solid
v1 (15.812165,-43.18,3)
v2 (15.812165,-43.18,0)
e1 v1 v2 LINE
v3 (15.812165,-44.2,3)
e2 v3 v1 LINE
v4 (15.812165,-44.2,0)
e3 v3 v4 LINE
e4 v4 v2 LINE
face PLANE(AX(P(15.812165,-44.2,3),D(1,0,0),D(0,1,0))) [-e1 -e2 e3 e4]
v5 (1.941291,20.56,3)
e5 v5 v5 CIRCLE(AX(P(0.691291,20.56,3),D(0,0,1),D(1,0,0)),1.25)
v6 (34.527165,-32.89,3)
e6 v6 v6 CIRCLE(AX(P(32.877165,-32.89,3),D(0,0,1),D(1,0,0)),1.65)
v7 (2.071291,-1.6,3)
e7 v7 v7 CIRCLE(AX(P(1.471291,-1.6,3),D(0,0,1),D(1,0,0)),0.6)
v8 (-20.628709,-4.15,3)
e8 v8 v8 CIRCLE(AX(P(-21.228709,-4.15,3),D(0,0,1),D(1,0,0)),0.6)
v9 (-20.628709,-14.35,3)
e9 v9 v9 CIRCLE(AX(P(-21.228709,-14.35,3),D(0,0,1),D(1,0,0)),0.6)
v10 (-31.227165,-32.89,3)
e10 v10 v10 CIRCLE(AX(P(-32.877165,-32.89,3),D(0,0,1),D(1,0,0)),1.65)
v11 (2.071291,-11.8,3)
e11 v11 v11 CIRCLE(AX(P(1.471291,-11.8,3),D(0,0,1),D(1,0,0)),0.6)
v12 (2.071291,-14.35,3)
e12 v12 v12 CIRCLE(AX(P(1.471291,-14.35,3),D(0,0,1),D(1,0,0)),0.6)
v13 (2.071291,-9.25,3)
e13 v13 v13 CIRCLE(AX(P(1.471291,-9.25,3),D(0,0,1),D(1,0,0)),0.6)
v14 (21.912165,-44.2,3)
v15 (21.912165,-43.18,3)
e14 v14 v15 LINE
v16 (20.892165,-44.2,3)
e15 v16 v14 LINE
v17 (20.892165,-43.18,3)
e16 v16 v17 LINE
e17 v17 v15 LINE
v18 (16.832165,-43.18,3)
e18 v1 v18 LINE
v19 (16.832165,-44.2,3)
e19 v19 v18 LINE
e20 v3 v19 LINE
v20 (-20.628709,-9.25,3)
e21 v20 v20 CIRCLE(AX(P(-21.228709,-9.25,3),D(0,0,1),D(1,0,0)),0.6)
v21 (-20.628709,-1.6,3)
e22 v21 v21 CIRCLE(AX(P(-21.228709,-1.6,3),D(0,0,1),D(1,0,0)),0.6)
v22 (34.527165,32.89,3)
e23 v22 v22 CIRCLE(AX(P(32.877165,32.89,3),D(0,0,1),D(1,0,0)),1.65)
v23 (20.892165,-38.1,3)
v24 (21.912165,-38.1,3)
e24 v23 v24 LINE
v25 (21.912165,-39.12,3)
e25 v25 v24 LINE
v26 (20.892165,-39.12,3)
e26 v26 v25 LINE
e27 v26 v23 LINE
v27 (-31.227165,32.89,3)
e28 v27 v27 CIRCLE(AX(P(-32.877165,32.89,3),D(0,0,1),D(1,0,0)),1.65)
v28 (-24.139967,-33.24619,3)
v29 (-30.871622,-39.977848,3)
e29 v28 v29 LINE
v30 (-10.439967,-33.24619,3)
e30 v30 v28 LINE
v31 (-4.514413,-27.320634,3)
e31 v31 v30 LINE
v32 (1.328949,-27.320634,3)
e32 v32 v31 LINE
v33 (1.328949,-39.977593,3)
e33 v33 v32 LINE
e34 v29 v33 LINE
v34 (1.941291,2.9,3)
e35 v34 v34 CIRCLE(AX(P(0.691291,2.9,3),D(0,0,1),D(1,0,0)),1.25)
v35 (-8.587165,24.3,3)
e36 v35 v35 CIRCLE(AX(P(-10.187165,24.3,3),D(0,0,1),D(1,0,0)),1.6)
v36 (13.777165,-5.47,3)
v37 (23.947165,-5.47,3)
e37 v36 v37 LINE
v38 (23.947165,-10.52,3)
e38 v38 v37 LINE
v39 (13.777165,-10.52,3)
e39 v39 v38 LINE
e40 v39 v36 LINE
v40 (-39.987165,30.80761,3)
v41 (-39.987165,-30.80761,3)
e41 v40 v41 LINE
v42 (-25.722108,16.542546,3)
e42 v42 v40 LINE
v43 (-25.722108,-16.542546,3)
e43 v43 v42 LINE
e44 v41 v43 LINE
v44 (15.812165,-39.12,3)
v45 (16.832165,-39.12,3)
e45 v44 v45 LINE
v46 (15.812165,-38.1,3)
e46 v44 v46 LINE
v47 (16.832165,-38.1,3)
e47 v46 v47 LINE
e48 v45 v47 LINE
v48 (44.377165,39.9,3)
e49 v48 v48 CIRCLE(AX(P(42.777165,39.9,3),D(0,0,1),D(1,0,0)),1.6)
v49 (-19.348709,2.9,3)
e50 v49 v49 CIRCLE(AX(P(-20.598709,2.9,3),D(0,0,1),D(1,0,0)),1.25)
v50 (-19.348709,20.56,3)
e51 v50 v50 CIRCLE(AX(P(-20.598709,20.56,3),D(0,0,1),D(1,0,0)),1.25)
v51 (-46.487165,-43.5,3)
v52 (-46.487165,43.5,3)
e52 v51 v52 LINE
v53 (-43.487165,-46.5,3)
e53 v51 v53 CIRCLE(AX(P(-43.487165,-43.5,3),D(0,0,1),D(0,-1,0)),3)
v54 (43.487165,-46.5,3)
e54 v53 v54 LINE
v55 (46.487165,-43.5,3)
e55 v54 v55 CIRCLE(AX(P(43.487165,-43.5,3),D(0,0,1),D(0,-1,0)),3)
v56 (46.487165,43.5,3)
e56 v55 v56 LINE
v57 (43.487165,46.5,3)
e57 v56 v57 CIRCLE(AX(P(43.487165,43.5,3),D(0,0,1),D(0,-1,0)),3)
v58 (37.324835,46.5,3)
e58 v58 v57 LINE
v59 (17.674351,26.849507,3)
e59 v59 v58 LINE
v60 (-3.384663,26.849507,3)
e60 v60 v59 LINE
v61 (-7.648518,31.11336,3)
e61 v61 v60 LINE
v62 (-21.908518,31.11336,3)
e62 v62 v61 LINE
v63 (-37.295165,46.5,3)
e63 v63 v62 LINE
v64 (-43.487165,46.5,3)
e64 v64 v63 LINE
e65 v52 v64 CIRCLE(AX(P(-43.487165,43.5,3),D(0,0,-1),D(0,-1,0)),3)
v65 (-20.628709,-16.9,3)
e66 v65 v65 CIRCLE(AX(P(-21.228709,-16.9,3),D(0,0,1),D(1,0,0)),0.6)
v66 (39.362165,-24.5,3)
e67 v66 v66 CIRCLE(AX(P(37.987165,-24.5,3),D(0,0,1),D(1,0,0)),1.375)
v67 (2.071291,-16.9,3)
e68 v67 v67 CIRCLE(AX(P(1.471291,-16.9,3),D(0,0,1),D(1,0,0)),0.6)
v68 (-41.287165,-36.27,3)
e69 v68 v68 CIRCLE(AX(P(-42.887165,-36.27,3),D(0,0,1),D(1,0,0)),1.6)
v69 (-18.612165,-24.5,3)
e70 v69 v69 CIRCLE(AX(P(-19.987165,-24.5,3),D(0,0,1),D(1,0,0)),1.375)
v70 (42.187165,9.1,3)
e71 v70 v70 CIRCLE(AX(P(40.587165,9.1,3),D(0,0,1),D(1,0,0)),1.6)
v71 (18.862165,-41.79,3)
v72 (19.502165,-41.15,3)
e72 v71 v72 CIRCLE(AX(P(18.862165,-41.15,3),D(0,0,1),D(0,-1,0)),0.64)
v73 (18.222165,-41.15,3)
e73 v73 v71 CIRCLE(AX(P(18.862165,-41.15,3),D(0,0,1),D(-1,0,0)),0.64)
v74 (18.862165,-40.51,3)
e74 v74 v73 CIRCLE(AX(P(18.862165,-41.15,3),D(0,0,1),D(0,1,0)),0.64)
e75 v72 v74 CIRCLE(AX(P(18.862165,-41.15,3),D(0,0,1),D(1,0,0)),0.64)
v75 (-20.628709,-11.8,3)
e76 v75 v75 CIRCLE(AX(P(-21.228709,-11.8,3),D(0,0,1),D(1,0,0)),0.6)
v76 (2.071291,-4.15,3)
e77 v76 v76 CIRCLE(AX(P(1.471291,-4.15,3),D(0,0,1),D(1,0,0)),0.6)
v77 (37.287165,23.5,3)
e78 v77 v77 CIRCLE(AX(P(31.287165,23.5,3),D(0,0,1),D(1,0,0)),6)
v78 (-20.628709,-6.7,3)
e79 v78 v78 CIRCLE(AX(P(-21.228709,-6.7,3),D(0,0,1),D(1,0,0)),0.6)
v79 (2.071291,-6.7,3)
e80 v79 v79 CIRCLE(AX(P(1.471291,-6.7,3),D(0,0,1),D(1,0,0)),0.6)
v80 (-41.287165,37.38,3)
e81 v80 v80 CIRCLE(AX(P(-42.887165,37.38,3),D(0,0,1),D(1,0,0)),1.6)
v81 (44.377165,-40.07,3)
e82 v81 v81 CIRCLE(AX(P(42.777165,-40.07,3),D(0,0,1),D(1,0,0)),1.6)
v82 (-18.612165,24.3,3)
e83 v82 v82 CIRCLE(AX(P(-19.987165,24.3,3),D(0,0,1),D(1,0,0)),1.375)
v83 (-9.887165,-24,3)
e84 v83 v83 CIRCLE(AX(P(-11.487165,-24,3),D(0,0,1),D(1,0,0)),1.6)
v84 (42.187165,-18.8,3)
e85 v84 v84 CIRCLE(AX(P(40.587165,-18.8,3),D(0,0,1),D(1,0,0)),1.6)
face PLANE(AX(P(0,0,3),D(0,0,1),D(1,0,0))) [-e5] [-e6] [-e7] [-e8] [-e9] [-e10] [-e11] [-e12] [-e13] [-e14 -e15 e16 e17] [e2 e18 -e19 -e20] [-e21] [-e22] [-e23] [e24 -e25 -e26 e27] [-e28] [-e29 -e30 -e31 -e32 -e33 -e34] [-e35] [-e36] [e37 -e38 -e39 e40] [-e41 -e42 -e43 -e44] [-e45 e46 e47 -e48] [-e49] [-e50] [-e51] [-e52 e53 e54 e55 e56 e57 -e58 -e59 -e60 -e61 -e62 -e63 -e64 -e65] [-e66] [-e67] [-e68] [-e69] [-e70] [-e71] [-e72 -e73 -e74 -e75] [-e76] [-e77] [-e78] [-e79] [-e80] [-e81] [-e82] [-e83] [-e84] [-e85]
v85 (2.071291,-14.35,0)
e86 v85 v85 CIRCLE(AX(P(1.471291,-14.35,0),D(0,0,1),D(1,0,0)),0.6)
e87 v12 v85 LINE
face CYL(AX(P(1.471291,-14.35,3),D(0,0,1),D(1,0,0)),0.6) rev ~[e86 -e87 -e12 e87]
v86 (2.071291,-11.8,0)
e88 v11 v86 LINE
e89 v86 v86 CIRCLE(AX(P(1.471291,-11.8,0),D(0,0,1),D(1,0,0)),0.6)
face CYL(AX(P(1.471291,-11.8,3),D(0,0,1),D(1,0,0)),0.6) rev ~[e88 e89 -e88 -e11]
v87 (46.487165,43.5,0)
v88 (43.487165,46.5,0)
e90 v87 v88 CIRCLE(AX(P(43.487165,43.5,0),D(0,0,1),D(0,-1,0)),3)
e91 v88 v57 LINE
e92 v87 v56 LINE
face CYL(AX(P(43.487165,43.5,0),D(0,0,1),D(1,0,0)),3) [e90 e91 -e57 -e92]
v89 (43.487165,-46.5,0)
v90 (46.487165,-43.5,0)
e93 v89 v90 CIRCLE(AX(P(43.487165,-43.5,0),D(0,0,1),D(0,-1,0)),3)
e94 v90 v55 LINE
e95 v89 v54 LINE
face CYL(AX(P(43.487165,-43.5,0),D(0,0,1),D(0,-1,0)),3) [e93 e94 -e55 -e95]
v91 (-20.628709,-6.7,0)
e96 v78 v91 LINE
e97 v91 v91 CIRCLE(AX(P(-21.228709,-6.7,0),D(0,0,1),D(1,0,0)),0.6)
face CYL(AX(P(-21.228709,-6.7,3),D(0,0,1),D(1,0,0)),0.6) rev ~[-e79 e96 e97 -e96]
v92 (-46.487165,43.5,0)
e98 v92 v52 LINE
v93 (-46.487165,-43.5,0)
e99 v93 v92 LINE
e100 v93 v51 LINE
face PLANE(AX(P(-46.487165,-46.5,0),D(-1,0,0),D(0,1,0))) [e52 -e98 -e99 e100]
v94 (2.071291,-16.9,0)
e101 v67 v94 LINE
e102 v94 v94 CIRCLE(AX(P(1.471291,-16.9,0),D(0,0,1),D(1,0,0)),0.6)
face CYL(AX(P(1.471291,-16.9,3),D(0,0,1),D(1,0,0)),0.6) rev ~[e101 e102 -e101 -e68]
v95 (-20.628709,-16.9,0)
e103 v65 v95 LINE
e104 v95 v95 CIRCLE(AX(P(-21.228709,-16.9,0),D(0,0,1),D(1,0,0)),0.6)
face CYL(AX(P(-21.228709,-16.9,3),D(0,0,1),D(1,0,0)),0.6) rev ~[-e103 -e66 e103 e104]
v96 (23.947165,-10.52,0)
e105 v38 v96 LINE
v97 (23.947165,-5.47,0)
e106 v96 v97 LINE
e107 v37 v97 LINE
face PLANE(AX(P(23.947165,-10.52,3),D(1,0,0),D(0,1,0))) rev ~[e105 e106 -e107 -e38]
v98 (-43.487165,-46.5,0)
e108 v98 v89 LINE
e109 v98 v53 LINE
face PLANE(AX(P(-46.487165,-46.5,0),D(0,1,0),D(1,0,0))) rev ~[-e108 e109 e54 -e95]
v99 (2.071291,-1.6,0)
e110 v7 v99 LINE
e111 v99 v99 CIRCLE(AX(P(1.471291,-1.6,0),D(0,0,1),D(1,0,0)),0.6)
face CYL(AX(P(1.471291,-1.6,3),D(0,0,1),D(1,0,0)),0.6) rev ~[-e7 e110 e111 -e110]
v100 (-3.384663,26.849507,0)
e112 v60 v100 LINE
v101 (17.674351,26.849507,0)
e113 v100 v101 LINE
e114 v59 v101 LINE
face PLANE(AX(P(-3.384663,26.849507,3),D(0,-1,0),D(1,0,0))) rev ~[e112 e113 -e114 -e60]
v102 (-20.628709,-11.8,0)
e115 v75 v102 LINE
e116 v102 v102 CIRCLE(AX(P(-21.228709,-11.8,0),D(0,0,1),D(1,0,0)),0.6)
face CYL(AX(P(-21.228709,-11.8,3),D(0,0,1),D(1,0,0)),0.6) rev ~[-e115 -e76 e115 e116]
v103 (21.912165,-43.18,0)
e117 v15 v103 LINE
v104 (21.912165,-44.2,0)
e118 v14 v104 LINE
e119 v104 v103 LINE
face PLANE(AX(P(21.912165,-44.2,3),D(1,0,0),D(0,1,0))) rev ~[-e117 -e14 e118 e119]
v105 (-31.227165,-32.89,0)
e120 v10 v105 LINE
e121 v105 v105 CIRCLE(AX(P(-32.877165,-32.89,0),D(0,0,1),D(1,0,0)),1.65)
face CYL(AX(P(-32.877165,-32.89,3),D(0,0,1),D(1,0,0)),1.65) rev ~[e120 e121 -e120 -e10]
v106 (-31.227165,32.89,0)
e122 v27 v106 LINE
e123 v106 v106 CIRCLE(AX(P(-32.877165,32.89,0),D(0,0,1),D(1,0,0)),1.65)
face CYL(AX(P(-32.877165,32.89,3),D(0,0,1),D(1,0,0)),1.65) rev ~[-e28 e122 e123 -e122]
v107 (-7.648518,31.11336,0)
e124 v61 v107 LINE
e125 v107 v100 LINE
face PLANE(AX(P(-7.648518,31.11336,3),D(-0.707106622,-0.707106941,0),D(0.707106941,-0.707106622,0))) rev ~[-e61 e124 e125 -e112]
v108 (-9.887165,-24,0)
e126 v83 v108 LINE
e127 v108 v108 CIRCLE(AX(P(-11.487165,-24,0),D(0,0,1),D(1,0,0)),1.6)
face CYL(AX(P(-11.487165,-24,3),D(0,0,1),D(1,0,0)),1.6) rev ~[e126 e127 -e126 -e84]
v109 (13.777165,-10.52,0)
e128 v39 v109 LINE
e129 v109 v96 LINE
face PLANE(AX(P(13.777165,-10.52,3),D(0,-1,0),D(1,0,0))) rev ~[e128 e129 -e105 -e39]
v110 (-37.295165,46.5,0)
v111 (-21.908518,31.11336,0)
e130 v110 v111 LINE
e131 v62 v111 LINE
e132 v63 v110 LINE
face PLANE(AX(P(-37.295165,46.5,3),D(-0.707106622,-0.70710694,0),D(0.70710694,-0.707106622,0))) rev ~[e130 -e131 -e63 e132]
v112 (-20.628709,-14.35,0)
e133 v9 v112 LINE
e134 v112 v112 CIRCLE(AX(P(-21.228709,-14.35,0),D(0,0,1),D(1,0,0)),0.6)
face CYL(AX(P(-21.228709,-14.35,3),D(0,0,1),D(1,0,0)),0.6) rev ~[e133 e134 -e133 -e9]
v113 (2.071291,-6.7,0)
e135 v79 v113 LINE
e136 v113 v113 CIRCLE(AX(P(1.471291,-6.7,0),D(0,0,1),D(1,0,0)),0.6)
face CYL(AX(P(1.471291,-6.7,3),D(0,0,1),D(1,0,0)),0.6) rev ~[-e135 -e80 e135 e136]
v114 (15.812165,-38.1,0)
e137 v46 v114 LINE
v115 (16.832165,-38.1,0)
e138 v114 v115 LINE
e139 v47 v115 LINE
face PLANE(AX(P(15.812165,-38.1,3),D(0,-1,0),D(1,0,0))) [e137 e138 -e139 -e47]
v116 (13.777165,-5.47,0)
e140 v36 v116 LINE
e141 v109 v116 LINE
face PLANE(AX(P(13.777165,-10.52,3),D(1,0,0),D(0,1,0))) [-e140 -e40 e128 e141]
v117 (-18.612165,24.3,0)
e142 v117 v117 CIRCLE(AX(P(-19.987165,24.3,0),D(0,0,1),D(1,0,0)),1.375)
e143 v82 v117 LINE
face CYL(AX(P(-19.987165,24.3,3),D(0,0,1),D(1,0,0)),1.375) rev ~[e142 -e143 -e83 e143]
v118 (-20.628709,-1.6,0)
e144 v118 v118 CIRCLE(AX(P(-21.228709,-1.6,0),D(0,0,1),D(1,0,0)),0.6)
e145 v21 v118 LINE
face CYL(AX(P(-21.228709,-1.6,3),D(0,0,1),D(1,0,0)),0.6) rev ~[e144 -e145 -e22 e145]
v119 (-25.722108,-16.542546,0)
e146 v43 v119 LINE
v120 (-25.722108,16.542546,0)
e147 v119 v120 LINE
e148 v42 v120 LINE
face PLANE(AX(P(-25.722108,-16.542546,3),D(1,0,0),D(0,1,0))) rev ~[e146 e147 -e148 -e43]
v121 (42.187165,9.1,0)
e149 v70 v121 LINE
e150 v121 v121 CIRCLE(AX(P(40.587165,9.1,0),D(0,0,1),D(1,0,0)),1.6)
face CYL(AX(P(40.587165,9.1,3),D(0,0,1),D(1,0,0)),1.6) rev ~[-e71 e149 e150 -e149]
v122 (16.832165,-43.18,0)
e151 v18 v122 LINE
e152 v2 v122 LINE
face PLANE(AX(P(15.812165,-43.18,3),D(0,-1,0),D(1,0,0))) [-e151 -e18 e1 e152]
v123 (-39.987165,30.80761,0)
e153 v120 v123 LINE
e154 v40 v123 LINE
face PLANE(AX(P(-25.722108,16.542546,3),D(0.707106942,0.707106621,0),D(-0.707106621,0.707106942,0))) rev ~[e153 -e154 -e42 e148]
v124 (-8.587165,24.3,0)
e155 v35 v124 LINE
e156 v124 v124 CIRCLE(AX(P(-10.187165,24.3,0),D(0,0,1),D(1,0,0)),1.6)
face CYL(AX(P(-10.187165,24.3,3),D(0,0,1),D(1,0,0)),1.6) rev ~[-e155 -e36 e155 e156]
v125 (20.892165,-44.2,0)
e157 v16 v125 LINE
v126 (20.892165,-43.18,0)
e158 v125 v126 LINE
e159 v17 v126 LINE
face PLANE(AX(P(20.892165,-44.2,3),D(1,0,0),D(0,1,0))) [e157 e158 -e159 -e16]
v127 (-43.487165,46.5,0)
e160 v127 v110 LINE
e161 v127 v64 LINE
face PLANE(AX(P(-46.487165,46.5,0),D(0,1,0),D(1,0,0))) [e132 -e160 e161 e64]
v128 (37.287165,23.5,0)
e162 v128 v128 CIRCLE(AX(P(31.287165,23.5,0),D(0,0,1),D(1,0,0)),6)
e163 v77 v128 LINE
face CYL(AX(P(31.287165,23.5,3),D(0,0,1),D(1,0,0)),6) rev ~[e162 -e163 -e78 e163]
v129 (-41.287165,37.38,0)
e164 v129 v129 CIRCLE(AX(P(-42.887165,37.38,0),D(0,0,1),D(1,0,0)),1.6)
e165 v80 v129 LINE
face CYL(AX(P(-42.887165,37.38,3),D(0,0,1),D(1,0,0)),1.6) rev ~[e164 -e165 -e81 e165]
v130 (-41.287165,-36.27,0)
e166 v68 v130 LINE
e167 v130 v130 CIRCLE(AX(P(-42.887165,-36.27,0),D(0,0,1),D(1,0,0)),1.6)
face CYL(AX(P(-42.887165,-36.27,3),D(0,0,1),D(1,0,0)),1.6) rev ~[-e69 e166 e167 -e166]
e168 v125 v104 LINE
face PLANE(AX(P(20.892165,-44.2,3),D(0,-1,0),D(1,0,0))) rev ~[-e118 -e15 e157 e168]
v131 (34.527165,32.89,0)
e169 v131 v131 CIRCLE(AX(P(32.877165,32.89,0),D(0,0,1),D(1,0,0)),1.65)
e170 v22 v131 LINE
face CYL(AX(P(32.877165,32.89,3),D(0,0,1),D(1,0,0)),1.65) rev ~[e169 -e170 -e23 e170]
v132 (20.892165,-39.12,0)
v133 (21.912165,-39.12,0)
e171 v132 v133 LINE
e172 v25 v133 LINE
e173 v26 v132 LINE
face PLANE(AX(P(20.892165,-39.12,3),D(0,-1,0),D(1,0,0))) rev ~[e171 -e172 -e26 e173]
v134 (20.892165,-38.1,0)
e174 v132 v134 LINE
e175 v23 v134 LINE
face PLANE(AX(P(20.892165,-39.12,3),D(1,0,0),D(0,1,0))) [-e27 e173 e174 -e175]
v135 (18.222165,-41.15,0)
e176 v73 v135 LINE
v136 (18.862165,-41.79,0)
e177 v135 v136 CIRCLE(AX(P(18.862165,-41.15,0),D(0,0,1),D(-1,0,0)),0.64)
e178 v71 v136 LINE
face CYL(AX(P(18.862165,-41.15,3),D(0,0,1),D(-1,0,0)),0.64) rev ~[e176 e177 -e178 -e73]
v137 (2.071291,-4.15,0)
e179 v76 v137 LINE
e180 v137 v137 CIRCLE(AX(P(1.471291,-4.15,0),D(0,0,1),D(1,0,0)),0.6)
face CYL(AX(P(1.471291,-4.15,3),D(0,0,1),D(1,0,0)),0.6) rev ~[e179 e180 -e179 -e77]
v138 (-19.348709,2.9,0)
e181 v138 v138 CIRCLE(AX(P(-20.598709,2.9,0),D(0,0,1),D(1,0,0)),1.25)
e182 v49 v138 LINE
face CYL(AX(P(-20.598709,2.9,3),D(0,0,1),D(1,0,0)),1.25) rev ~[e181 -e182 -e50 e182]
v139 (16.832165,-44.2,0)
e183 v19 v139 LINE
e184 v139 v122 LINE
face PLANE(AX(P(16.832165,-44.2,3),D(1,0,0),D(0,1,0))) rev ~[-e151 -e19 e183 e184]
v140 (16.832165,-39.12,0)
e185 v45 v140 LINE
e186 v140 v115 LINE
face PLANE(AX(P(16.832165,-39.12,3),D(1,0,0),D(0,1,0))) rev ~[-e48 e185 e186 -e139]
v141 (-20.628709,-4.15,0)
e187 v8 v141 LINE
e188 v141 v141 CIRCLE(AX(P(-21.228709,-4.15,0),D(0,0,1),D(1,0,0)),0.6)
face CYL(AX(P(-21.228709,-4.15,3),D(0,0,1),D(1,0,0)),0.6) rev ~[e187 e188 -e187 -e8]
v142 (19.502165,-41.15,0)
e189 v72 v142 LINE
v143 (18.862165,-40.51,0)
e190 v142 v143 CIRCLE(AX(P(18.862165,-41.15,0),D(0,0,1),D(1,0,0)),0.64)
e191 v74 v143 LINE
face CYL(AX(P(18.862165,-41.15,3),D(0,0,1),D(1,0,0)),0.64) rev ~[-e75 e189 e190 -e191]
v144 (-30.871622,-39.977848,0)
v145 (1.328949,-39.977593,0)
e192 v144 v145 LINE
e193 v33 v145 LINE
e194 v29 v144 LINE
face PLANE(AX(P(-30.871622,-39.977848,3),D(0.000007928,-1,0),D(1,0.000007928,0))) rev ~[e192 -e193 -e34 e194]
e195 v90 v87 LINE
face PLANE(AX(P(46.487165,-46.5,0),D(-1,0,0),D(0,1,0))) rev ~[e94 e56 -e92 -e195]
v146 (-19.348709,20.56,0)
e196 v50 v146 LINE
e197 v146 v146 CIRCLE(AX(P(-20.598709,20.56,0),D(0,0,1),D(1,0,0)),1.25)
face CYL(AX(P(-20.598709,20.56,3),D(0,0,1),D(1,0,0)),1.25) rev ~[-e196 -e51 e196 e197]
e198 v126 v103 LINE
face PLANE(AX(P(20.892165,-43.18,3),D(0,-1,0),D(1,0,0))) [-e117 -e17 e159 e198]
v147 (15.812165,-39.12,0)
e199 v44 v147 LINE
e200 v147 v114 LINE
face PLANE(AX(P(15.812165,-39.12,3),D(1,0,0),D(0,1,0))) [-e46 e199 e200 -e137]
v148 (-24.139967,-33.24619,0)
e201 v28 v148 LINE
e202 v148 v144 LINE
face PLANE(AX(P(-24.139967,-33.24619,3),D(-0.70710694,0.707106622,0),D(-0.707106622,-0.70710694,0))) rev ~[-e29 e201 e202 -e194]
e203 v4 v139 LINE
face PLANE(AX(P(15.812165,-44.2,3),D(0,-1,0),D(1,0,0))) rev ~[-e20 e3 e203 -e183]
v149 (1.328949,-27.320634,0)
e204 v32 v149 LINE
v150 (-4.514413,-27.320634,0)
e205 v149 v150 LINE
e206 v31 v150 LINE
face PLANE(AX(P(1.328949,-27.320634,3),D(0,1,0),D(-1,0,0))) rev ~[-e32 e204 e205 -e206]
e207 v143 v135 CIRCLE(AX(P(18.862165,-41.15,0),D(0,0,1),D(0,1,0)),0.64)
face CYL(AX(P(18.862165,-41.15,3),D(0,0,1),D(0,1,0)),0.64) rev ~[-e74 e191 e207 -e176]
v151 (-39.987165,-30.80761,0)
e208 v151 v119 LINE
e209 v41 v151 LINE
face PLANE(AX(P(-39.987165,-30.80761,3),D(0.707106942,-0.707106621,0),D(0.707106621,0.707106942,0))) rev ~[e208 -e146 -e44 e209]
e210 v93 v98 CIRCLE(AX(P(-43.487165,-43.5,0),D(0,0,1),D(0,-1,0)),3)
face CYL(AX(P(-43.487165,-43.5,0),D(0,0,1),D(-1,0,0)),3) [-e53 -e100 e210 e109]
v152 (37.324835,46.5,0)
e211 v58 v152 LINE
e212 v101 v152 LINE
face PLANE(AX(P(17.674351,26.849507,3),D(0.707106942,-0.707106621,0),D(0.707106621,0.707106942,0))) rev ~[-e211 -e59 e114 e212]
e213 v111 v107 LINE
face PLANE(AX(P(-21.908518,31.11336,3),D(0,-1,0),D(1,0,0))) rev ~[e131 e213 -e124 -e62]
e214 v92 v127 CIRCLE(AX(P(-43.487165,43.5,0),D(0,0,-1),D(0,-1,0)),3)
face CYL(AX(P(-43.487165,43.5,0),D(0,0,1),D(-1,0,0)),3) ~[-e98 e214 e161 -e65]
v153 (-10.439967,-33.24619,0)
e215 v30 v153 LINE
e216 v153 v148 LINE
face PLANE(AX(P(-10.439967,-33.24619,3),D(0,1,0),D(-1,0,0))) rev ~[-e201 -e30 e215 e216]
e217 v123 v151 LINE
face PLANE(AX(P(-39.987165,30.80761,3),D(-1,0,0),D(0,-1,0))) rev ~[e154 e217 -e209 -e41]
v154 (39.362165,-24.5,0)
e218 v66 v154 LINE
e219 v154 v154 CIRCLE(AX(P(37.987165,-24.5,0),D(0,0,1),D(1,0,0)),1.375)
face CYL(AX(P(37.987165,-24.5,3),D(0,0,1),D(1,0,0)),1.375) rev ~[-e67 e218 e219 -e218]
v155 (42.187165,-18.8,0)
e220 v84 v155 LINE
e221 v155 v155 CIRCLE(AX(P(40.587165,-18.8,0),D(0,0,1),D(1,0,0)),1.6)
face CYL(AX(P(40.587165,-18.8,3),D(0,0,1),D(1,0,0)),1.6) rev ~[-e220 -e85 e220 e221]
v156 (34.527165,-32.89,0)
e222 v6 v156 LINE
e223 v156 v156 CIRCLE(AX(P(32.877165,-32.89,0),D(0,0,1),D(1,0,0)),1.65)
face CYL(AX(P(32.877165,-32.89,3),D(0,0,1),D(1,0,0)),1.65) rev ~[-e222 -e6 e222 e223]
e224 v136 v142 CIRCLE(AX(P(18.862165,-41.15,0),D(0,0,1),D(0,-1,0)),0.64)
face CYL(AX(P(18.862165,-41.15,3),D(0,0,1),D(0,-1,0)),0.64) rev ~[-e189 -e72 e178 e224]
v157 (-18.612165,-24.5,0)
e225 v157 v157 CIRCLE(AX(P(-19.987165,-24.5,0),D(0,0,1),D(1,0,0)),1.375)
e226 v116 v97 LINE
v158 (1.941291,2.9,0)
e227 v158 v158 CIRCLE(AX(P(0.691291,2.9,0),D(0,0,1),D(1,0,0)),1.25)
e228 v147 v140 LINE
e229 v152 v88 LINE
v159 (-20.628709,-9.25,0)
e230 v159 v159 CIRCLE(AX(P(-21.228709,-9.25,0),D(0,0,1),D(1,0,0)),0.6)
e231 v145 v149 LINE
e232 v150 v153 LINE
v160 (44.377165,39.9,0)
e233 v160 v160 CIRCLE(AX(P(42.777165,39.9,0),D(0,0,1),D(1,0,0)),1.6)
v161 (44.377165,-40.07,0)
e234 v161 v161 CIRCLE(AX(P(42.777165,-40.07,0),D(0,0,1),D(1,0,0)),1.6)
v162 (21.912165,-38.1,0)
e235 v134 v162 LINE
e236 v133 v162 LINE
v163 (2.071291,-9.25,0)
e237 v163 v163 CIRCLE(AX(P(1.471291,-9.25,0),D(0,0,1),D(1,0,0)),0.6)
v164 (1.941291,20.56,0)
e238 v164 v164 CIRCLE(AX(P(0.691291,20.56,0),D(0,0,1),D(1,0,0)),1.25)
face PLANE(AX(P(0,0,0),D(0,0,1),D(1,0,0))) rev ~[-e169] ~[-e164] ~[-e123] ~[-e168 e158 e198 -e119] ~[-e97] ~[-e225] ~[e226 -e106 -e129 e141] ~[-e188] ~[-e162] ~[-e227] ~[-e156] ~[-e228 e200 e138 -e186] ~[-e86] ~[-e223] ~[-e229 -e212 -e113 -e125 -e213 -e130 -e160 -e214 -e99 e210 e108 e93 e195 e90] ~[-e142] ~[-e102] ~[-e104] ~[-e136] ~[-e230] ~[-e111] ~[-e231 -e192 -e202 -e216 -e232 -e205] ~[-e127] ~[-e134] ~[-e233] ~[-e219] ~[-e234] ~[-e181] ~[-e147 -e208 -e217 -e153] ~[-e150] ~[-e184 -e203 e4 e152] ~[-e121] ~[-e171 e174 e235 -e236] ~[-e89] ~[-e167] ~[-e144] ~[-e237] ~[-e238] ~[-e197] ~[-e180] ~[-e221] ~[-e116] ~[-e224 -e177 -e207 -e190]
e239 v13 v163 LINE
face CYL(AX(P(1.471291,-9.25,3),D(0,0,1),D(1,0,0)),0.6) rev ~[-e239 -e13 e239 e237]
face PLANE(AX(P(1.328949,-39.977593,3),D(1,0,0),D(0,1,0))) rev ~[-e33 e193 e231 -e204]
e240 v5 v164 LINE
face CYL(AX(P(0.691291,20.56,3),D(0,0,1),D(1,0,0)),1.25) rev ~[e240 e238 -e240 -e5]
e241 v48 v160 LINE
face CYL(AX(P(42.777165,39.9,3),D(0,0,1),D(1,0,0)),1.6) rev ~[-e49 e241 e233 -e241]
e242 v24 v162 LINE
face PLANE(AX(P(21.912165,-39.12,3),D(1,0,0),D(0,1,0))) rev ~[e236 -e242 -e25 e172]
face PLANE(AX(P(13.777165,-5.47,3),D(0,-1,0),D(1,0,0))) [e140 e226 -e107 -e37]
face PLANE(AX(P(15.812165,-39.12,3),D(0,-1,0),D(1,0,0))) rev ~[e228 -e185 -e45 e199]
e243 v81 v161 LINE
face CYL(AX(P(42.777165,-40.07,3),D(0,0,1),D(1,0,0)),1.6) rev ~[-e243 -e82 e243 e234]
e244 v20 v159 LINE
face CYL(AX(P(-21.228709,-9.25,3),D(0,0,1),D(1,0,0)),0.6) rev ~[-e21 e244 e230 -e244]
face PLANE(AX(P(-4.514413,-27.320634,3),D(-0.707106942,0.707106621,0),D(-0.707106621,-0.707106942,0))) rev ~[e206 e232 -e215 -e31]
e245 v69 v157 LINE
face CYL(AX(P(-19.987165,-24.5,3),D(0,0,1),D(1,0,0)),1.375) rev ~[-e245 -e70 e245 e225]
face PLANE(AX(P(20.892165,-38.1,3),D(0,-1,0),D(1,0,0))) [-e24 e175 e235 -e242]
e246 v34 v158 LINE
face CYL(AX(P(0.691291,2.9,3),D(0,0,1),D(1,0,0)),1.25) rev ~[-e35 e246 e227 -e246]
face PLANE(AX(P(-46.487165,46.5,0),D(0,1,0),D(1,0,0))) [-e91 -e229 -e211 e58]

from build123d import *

# Parameters (mm, degrees)
SKETCH1_W           = 92.97433
SKETCH1_H           = 93
BOSS_EXTRUDE1_DEPTH = 3
FILLET1_R           = 3
CUT_EXTRUDE1_DEPTH  = 3
SKETCH3_R           = 1.6
SKETCH3_R_2         = 1.65
SKETCH3_R_3         = 1.375
CUT_EXTRUDE2_DEPTH  = 3
SKETCH4_R           = 1.6
SKETCH4_R_2         = 1.65
SKETCH4_R_3         = 1.375
CUT_EXTRUDE3_DEPTH  = 3
SKETCH5_R           = 1.25
SKETCH5_R_2         = 0.6
CUT_EXTRUDE4_DEPTH  = 66.820259113
SKETCH2_3_W         = 10.17
SKETCH2_3_H         = 5.05
SKETCH2_3_W_2       = 1.02
SKETCH2_3_H_2       = 1.02
CUT_EXTRUDE5_DEPTH  = 10
SKETCH7_R           = 6
CUT_EXTRUDE6_DEPTH  = 66.820259113


with BuildPart() as part:
    # Sketch1 → Boss-Extrude1 (new body)
    with BuildSketch(Plane.XY):
        Rectangle(SKETCH1_W, SKETCH1_H)
    extrude(amount=BOSS_EXTRUDE1_DEPTH)

    # Fillet1
    fillet1_edges = [part.edges().sort_by_distance(p)[0] for p in [
        (46.487165, -46.5, 1.5),
        (-46.487165, -46.5, 1.5),
        (-46.487165, 46.5, 1.5),
        (46.487165, 46.5, 1.5),
    ]]
    fillet(fillet1_edges, radius=FILLET1_R)

    # Sketch2 → Cut-Extrude1 (cut)
    with BuildSketch(Plane.XY.offset(3)):
        Polygon((-39.987165, 30.80761), (-39.987165, -30.80761), (-25.722107704, -16.54254623), (-25.722107704, 16.54254623), align=None)
        Polygon((-37.295165, 46.5), (-21.908517975, 31.113359908), (-7.648517975, 31.113359908), (-3.384663123, 26.849506978), (17.674350896, 26.849506978), (37.324835, 46.5), align=None)
        Polygon((-24.13996688, -33.24619021), (-30.87162192, -39.977848283), (1.328948971, -39.977593006), (1.328948971, -27.320634039), (-4.514413398, -27.320634039), (-10.43996688, -33.24619021), align=None)
    extrude(amount=-CUT_EXTRUDE1_DEPTH, mode=Mode.SUBTRACT)

    # Sketch3 → Cut-Extrude2 (cut)
    with BuildSketch(Plane.XY.offset(3)):
        with Locations((-42.887165, 37.38)):
            Circle(SKETCH3_R)
        with Locations((-32.877165, 32.89)):
            Circle(SKETCH3_R_2)
        with Locations((-19.987165, 24.3)):
            Circle(SKETCH3_R_3)
        with Locations((-10.187165, 24.3)):
            Circle(SKETCH3_R)
    extrude(amount=-CUT_EXTRUDE2_DEPTH, mode=Mode.SUBTRACT)

    # Sketch4 → Cut-Extrude3 (cut)
    with BuildSketch(Plane.XY.offset(3)):
        with Locations((42.777165, -40.07)):
            Circle(SKETCH4_R)
        with Locations((32.877165, -32.89)):
            Circle(SKETCH4_R_2)
        with Locations((37.987165, -24.5)):
            Circle(SKETCH4_R_3)
        with Locations((40.587165, -18.8)):
            Circle(SKETCH4_R)
        with Locations((-42.887165, -36.27)):
            Circle(SKETCH4_R)
        with Locations((-32.877165, -32.89)):
            Circle(SKETCH4_R_2)
        with Locations((-19.987165, -24.5)):
            Circle(SKETCH4_R_3)
        with Locations((-11.487165, -24)):
            Circle(SKETCH4_R)
        with Locations((42.777165, 39.9)):
            Circle(SKETCH4_R)
        with Locations((32.877165, 32.89)):
            Circle(SKETCH4_R_2)
        with Locations((40.587165, 9.1)):
            Circle(SKETCH4_R)
    extrude(amount=-CUT_EXTRUDE3_DEPTH, mode=Mode.SUBTRACT)

    # Sketch5 → Cut-Extrude4 (cut, through all)
    with BuildSketch(Plane.XY.offset(3)):
        with Locations((0.691290951, 20.56)):
            Circle(SKETCH5_R)
        with Locations((-20.598709049, 20.56)):
            Circle(SKETCH5_R)
        with Locations((0.691290951, 2.9)):
            Circle(SKETCH5_R)
        with Locations((-20.598709049, 2.9)):
            Circle(SKETCH5_R)
        with Locations((-21.228709049, -1.6)):
            Circle(SKETCH5_R_2)
        with Locations((-21.228709049, -4.15)):
            Circle(SKETCH5_R_2)
        with Locations((-21.228709049, -6.7)):
            Circle(SKETCH5_R_2)
        with Locations((-21.228709049, -9.25)):
            Circle(SKETCH5_R_2)
        with Locations((-21.228709049, -11.8)):
            Circle(SKETCH5_R_2)
        with Locations((-21.228709049, -14.35)):
            Circle(SKETCH5_R_2)
        with Locations((-21.228709049, -16.9)):
            Circle(SKETCH5_R_2)
        with Locations((1.471290951, -1.6)):
            Circle(SKETCH5_R_2)
        with Locations((1.471290951, -4.15)):
            Circle(SKETCH5_R_2)
        with Locations((1.471290951, -6.7)):
            Circle(SKETCH5_R_2)
        with Locations((1.471290951, -9.25)):
            Circle(SKETCH5_R_2)
        with Locations((1.471290951, -11.8)):
            Circle(SKETCH5_R_2)
        with Locations((1.471290951, -14.35)):
            Circle(SKETCH5_R_2)
        with Locations((1.471290951, -16.9)):
            Circle(SKETCH5_R_2)
    extrude(amount=-CUT_EXTRUDE4_DEPTH, mode=Mode.SUBTRACT)

    # Sketch2<3> → Cut-Extrude5 (cut)
    with BuildSketch(Plane.XY.offset(3)):
        with Locations((18.862165, -7.995)):
            Rectangle(SKETCH2_3_W, SKETCH2_3_H)
        with Locations((16.322165, -38.61)):
            Rectangle(SKETCH2_3_W_2, SKETCH2_3_H_2)
        with Locations((21.402165, -38.61)):
            Rectangle(SKETCH2_3_W_2, SKETCH2_3_H_2)
        with BuildLine():
            ThreePointArc((19.502165, -41.15), (19.31471334, -40.69745166), (18.862165, -40.51))
            Line((18.862165, -40.51), (18.862165, -41.15))
            Line((18.862165, -41.15), (19.502165, -41.15))
        make_face()
        with BuildLine():
            Line((18.862165, -41.15), (18.862165, -40.51))
            ThreePointArc((18.862165, -40.51), (18.40961666, -40.69745166), (18.222165, -41.15))
            Line((18.222165, -41.15), (18.862165, -41.15))
        make_face()
        with BuildLine():
            Line((19.502165, -41.15), (18.862165, -41.15))
            Line((18.862165, -41.15), (18.862165, -41.79))
            ThreePointArc((18.862165, -41.79), (19.31471334, -41.60254834), (19.502165, -41.15))
        make_face()
        with BuildLine():
            Line((18.862165, -41.79), (18.862165, -41.15))
            Line((18.862165, -41.15), (18.222165, -41.15))
            ThreePointArc((18.222165, -41.15), (18.40961666, -41.60254834), (18.862165, -41.79))
        make_face()
        with Locations((21.402165, -43.69)):
            Rectangle(SKETCH2_3_W_2, SKETCH2_3_H_2)
        with Locations((16.322165, -43.69)):
            Rectangle(SKETCH2_3_W_2, SKETCH2_3_H_2)
    extrude(amount=-CUT_EXTRUDE5_DEPTH, mode=Mode.SUBTRACT)

    # Sketch7 → Cut-Extrude6 (cut, through all)
    with BuildSketch(Plane.XY.offset(3)):
        with Locations((31.287165, 23.5)):
            Circle(SKETCH7_R)
    extrude(amount=-CUT_EXTRUDE6_DEPTH, mode=Mode.SUBTRACT)


solid = part.part
